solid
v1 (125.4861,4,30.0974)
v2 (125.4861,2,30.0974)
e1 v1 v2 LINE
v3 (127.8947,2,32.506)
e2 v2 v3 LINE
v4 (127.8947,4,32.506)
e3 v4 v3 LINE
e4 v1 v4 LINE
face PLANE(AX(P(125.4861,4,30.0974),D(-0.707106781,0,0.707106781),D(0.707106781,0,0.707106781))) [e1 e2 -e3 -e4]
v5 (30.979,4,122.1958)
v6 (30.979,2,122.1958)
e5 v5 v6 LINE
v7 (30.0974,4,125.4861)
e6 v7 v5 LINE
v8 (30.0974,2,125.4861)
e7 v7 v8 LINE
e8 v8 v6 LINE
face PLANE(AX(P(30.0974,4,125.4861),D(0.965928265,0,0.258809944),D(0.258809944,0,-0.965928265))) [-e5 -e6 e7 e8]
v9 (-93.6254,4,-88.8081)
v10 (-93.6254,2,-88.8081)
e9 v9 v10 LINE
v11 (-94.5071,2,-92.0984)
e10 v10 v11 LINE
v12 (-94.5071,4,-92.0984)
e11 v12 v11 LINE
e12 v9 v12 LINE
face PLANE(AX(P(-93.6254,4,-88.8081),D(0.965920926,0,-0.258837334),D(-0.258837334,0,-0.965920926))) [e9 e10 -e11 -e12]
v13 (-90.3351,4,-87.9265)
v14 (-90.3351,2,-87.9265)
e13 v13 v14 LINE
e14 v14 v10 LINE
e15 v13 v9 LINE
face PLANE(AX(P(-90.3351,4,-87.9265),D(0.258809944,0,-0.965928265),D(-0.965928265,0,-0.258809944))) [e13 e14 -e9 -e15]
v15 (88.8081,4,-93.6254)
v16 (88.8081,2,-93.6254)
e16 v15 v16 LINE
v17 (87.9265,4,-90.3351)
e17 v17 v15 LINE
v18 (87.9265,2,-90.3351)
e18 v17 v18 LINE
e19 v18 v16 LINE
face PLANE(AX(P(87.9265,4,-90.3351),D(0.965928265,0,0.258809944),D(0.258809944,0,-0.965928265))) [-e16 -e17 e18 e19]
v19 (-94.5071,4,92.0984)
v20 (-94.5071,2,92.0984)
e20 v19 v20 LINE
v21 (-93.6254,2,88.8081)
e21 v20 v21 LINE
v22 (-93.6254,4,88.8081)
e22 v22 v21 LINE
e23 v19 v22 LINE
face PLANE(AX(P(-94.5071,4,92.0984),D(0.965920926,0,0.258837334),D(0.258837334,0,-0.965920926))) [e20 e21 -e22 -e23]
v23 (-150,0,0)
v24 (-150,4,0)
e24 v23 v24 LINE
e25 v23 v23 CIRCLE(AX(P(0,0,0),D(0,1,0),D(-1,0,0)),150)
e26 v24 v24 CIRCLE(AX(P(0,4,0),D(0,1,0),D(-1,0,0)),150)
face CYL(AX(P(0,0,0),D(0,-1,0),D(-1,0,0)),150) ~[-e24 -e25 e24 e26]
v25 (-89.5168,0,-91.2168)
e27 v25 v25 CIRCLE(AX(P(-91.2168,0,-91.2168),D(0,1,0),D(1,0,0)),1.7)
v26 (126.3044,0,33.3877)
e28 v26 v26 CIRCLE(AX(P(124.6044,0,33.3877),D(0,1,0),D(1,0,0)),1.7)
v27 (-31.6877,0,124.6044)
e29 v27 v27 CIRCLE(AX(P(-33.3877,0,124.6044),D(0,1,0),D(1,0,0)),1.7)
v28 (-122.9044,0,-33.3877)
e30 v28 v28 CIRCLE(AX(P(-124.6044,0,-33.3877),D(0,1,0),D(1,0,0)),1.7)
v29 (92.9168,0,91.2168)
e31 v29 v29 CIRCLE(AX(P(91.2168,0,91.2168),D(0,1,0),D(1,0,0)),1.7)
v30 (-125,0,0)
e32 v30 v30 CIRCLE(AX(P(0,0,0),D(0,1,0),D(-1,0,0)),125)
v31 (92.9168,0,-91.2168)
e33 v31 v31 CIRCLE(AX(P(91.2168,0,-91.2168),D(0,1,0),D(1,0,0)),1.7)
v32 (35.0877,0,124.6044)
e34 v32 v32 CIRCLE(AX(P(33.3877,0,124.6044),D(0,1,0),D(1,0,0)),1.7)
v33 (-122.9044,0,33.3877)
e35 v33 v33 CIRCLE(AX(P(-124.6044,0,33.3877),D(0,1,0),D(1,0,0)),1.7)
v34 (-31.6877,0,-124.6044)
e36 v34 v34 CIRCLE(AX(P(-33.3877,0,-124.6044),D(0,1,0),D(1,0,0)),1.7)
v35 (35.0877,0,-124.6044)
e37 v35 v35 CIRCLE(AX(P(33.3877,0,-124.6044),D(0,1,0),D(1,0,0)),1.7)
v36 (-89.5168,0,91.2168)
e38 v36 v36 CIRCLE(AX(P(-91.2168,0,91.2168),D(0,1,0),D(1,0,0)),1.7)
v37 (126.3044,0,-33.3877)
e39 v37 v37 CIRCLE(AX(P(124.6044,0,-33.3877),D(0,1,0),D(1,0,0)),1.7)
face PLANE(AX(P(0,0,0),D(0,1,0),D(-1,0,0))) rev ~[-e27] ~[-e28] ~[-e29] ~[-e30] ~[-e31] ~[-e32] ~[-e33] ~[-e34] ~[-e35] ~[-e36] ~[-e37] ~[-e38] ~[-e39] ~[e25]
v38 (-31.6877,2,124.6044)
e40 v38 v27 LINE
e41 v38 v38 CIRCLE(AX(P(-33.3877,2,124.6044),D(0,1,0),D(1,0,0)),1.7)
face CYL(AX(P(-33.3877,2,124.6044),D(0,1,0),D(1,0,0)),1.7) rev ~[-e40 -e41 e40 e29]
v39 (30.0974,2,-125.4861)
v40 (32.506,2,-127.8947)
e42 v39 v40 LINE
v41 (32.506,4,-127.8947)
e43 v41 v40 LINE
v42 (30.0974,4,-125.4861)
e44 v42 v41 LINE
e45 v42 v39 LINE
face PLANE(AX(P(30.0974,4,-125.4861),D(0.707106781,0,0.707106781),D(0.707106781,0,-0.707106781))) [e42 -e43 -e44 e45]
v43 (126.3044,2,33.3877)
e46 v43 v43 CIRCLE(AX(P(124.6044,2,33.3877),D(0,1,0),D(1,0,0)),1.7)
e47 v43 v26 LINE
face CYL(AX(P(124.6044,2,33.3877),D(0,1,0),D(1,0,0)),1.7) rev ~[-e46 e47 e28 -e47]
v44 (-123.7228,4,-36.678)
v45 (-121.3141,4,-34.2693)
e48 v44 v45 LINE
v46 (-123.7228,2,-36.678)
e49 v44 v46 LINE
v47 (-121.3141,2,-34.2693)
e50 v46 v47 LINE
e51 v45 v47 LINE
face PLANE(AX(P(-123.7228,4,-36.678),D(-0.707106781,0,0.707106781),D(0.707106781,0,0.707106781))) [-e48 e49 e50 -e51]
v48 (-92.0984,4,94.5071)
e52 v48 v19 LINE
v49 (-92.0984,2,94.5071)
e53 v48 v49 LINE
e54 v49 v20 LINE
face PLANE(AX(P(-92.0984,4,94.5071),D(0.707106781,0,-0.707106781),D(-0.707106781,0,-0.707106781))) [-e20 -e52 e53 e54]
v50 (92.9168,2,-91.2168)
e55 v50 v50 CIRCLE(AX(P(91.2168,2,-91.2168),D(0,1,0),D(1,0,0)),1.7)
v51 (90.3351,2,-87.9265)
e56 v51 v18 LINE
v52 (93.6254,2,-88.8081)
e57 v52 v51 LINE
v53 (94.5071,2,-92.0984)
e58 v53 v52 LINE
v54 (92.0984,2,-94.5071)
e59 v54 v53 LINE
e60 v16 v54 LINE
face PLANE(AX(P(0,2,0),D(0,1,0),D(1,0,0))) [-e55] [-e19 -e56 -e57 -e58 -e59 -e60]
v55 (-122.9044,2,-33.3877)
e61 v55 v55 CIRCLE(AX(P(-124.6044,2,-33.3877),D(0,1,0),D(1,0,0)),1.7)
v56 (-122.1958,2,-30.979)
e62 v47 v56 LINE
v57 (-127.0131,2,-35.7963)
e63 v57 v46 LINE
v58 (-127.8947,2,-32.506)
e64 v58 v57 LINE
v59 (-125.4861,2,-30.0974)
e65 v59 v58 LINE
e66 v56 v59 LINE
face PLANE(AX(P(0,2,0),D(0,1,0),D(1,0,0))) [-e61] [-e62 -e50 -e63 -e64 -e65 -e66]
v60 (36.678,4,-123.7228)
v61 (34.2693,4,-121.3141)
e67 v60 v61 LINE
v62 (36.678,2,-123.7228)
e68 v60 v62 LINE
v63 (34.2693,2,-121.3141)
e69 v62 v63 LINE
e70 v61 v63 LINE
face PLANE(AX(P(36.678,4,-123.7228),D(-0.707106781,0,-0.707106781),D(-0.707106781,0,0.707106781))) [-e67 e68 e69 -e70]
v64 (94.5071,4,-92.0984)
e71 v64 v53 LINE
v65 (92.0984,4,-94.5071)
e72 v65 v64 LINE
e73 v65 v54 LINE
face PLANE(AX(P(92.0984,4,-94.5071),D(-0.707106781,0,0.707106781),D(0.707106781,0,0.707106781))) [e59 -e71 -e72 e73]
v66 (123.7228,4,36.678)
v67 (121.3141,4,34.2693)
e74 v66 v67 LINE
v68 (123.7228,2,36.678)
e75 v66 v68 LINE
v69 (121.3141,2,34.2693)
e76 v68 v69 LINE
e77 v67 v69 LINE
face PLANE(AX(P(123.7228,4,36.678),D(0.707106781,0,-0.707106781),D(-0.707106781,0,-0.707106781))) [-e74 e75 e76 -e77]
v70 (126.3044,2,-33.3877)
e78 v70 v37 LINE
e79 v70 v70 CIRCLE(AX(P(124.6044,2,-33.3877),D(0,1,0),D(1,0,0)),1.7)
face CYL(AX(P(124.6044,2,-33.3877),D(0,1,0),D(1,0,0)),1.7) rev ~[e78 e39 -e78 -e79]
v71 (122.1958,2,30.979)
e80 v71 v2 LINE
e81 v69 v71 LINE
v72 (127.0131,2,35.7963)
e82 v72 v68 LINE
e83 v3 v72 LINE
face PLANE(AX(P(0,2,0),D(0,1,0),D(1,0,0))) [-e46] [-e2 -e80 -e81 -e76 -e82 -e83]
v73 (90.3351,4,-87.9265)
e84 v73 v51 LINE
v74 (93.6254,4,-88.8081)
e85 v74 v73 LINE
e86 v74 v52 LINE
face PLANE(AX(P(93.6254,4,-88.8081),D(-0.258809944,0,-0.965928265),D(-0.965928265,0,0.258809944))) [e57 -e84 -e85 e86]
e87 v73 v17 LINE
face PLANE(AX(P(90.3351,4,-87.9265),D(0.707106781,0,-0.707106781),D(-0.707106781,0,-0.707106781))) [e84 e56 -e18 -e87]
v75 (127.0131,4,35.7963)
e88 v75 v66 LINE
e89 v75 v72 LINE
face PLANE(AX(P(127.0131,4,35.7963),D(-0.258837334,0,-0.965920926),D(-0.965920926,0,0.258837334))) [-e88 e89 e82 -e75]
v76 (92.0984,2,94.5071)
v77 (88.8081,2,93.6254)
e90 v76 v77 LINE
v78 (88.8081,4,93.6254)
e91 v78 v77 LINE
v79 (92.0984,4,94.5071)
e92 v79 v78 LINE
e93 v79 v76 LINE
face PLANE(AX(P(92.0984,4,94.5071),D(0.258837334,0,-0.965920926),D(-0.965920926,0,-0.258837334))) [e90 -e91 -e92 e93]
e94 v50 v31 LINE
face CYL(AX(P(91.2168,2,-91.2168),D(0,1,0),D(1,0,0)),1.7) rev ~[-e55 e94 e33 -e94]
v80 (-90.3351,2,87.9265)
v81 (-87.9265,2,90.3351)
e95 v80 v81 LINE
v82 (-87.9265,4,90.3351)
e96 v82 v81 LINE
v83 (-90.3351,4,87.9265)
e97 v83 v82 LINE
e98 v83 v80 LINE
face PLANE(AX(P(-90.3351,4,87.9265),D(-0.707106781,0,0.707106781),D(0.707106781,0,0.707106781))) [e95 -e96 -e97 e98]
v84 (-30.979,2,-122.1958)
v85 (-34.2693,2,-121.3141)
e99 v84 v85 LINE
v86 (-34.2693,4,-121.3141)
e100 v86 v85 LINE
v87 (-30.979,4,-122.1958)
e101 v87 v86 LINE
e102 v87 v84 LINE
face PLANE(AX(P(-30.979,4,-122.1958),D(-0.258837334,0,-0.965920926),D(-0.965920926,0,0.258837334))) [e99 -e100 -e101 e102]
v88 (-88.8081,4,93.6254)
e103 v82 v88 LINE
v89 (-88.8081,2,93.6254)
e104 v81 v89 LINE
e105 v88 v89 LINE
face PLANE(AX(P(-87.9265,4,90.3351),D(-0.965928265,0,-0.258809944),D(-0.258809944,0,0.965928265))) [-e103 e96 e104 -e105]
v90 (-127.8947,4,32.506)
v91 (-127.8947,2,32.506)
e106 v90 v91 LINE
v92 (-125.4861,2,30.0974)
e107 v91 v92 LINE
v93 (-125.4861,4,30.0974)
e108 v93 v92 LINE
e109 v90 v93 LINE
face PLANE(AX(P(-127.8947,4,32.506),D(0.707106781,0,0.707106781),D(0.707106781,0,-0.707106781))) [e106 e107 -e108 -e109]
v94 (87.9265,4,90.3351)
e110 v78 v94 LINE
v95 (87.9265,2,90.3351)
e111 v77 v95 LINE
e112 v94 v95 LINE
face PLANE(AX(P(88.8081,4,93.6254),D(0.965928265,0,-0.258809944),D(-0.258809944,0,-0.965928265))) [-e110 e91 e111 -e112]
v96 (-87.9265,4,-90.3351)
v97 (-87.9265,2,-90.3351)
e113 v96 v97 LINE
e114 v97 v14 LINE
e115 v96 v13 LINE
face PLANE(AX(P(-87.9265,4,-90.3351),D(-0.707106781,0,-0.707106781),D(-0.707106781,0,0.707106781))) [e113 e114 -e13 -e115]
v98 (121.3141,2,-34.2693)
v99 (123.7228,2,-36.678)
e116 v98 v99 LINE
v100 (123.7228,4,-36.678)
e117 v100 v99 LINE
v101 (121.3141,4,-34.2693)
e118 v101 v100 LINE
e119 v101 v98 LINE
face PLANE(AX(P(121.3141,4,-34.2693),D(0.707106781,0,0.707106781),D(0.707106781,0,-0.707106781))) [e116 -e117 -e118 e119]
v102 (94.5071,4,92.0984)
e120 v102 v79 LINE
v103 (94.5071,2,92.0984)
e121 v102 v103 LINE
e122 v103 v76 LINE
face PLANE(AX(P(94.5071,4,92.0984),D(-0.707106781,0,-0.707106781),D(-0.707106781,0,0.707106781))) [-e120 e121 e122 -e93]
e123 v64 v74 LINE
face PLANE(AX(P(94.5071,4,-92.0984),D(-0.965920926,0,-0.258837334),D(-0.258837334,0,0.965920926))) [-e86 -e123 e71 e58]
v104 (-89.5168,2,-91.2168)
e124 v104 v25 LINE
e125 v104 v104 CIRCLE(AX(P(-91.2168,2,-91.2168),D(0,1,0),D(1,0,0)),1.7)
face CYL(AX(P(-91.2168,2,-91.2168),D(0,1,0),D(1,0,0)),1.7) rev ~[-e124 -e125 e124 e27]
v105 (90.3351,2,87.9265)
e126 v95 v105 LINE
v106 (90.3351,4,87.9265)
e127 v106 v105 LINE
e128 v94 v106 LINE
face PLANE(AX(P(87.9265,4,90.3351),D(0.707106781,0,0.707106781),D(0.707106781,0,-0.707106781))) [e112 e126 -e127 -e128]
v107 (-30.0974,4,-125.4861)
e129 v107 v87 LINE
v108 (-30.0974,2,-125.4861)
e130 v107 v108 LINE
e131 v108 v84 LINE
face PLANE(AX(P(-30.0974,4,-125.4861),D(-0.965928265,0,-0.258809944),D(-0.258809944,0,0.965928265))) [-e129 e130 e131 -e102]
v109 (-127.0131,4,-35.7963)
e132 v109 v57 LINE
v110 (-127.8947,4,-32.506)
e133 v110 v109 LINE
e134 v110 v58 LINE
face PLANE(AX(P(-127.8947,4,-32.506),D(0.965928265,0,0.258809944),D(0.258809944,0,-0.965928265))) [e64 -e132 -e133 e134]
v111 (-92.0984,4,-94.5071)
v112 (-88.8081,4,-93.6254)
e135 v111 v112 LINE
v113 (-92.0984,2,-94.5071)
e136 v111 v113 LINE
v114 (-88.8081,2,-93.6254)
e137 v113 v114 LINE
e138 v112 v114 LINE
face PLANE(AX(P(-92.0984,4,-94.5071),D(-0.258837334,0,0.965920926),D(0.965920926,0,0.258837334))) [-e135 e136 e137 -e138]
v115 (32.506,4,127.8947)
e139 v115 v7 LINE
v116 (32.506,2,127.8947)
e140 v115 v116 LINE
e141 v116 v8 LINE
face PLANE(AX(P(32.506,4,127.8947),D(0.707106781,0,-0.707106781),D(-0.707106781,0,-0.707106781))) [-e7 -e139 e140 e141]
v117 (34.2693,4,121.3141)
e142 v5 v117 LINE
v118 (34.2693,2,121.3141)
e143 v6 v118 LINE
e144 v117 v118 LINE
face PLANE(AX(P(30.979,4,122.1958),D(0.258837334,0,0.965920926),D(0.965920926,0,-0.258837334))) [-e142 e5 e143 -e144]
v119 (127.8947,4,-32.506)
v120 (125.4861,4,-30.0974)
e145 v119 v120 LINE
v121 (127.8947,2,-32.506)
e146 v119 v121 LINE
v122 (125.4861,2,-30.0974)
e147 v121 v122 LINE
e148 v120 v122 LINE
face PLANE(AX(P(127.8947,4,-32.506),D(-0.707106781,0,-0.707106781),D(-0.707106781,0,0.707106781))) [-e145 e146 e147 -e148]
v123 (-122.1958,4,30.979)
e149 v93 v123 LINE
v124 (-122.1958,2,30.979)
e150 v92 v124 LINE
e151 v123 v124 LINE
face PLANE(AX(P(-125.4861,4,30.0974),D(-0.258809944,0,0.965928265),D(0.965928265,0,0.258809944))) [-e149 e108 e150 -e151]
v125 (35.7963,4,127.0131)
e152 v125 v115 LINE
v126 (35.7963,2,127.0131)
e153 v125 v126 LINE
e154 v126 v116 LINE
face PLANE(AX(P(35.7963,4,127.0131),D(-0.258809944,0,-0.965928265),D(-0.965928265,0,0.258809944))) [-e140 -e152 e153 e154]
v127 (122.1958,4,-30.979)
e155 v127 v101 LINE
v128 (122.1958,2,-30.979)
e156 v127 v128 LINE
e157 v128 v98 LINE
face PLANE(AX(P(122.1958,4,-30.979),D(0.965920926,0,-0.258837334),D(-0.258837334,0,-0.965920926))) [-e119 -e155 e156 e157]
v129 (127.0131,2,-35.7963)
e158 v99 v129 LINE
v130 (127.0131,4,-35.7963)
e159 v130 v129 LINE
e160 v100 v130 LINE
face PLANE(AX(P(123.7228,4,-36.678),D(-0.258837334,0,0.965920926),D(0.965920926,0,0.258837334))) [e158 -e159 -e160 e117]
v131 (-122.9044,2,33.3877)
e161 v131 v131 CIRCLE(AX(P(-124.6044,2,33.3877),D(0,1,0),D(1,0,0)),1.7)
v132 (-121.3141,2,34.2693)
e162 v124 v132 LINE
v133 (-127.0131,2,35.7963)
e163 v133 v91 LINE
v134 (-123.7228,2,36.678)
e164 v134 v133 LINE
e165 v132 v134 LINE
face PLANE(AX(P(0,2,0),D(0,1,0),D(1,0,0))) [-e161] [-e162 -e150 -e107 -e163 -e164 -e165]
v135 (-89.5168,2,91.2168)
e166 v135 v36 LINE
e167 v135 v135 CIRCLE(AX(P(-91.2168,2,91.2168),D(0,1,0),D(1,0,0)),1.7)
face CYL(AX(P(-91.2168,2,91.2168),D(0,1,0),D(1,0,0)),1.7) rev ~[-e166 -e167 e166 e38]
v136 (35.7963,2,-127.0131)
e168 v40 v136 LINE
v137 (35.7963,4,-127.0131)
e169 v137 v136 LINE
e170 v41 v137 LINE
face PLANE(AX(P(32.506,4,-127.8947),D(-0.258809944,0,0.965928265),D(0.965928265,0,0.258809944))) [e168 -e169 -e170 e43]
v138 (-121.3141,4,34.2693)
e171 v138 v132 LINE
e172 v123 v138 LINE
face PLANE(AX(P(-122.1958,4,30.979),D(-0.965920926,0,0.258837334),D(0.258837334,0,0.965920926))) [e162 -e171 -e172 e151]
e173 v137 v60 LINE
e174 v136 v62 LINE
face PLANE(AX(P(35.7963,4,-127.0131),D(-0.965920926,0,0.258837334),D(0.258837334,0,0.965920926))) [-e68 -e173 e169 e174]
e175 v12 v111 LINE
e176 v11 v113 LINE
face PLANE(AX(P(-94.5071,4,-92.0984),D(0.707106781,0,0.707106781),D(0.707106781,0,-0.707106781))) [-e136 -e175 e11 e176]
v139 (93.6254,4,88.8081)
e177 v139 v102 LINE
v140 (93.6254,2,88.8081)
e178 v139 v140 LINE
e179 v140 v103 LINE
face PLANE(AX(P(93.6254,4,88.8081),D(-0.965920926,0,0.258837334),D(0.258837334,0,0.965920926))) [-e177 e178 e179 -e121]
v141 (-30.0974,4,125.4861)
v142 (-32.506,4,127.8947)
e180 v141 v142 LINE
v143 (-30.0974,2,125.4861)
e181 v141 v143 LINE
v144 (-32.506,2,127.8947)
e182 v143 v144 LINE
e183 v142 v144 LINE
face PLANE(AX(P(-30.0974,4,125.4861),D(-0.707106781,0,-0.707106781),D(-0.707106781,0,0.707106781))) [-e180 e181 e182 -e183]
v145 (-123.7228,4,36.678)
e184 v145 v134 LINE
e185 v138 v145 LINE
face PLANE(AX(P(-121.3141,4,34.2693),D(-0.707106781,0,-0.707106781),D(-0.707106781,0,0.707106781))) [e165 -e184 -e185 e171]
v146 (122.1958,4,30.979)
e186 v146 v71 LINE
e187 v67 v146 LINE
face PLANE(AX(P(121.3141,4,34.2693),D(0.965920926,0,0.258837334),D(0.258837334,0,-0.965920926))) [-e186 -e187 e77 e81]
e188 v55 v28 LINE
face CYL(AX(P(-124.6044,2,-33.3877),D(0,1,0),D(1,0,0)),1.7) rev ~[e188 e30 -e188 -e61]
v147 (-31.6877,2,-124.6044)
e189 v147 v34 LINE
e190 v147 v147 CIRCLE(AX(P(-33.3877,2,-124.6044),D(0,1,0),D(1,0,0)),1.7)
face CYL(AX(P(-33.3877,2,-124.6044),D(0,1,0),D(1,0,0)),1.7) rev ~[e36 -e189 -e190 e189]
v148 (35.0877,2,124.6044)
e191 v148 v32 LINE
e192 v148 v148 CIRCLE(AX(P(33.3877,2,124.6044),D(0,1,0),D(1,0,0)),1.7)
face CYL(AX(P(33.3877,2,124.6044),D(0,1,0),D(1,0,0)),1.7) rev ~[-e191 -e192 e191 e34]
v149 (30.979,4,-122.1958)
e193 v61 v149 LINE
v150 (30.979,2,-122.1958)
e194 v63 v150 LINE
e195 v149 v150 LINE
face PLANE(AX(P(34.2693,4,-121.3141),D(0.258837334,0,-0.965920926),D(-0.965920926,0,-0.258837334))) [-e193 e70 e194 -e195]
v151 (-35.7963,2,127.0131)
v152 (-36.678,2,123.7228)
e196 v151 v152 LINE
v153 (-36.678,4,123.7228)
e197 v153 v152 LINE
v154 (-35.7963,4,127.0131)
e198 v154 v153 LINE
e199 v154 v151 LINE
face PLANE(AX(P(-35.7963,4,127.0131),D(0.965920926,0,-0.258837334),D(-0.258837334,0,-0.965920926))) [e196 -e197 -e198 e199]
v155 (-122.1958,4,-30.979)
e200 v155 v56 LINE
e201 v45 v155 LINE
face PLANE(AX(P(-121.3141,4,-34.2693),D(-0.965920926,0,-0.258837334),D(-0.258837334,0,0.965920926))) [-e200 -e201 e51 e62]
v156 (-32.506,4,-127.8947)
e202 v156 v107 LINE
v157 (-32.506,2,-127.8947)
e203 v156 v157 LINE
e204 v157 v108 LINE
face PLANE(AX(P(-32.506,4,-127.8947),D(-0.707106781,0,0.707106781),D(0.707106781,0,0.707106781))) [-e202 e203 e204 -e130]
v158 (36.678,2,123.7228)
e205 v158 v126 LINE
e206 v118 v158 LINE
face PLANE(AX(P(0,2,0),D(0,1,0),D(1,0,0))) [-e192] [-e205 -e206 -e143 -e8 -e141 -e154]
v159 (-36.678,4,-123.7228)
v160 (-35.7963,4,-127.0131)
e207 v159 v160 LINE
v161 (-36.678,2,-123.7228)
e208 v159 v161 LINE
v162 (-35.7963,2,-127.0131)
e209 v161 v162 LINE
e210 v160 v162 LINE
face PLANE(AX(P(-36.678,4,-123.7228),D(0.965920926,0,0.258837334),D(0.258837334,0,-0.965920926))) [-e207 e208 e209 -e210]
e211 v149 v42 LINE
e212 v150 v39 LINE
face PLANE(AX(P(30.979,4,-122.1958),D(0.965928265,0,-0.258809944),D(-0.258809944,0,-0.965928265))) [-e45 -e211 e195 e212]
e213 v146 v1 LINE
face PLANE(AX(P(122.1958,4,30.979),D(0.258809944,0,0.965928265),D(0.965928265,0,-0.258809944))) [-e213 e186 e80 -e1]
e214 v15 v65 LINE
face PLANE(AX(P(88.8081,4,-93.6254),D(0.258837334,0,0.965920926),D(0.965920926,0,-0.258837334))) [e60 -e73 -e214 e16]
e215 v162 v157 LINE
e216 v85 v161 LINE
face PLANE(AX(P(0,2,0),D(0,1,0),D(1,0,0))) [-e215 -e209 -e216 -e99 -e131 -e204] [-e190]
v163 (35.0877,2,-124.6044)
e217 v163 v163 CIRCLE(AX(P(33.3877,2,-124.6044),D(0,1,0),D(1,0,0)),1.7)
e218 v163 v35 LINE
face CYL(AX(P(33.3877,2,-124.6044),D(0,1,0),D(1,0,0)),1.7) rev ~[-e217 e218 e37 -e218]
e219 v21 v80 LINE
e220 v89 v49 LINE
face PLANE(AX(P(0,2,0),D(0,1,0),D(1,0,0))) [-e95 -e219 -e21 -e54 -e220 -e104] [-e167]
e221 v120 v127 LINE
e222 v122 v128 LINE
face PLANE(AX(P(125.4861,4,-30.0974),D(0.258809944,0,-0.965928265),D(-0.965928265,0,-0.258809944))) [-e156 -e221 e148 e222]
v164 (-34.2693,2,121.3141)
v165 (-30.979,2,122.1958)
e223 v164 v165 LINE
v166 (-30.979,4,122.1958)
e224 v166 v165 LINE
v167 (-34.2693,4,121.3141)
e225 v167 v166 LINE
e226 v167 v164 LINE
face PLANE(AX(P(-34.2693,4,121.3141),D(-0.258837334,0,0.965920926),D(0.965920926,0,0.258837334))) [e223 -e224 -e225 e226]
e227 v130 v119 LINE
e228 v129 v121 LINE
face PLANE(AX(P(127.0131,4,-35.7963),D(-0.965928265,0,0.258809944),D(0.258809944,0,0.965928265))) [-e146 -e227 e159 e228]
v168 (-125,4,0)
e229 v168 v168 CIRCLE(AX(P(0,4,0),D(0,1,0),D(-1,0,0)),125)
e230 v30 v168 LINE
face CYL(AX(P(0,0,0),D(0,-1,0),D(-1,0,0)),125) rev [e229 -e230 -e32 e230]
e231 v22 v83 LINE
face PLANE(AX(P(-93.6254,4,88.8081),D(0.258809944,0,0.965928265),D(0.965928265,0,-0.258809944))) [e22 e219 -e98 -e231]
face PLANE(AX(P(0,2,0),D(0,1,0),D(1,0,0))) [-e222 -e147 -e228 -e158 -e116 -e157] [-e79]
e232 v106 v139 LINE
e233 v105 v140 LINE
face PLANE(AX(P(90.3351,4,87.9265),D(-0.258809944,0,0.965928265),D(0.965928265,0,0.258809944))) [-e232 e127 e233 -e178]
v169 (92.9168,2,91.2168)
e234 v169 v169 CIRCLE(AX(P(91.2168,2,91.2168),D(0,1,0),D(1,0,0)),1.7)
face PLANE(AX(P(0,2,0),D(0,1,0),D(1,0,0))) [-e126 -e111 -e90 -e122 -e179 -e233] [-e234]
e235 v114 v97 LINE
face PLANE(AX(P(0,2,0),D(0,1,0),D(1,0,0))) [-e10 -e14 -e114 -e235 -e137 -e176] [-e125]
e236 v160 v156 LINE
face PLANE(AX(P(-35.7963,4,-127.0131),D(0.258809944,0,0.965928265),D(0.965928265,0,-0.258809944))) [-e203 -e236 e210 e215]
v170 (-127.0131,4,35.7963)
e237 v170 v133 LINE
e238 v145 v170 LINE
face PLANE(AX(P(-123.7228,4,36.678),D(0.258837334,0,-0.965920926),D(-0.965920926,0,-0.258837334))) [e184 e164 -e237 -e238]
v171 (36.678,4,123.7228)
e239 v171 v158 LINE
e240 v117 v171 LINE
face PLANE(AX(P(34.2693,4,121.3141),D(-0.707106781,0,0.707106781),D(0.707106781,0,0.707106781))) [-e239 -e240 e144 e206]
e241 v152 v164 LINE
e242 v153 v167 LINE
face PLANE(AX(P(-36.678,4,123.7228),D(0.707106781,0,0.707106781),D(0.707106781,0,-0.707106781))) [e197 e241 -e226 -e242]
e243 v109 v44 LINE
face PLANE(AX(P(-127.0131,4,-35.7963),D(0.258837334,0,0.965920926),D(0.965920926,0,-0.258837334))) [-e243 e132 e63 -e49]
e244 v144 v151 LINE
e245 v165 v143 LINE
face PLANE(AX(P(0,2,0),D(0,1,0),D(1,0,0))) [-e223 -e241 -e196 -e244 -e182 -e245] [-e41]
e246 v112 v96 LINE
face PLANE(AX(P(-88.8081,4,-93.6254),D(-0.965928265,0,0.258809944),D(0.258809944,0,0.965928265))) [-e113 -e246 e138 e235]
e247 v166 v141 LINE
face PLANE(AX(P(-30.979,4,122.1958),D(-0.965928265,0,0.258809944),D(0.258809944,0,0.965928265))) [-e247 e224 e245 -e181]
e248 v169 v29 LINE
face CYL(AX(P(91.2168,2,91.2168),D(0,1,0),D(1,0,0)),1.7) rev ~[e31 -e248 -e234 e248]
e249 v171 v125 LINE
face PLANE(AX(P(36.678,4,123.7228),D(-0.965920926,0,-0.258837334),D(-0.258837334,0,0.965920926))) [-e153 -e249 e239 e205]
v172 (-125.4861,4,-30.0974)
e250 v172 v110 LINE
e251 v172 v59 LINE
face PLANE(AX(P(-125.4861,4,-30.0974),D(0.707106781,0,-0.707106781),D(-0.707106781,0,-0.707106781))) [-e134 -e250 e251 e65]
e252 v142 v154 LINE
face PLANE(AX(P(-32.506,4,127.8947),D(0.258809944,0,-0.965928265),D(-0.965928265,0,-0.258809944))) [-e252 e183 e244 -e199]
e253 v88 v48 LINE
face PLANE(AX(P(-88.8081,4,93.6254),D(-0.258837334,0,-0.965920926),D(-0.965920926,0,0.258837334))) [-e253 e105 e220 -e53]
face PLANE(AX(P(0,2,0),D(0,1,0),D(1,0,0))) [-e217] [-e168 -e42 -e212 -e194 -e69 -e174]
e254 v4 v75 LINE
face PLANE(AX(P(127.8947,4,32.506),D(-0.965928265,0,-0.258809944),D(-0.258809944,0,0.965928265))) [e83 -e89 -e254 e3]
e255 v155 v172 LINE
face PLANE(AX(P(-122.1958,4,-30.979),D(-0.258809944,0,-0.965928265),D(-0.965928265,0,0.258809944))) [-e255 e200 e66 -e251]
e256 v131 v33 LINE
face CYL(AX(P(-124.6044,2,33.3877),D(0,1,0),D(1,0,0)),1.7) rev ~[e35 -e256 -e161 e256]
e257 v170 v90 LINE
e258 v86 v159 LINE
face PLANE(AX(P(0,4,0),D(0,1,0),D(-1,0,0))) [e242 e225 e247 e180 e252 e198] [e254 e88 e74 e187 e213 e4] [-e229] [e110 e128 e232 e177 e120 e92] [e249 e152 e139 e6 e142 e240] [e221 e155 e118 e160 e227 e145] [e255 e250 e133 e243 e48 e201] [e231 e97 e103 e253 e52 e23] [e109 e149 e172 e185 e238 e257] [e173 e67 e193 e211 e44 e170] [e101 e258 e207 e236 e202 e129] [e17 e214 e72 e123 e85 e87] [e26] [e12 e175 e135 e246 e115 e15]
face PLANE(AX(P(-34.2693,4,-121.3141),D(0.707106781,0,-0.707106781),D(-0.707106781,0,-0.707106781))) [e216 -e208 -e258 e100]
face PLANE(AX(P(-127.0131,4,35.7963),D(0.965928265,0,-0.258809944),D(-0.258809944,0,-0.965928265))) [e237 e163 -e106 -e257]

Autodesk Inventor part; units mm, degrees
ref_plane "YZ Plane" through (0, 0, 0) normal (1, 0, 0) x (0, 1, 0)
ref_plane "XZ Plane" through (0, 0, 0) normal (0, 1, 0) x (-1, 0, 0)
ref_plane "XY Plane" through (0, 0, 0) normal (0, 0, 1) x (1, 0, 0)
sketch "Sketch1" plane through (0, 0, 0) normal (0, 1, 0) x (-1, 0, 0)
  circle A0 centre (0, 0) radius 150
  circle A1 centre (0, 0) radius 125
  dimension "d0" = 300
  dimension "d1" = 250
extrude "Extrusion1" add sketch "Sketch1" along normal blind 4
sketch "Sketch2" plane through (0, 4, 0) normal (0, 1, 0) x (1, 0, 0)
  line L0 (0, 0) -> (124.6044, 33.3877) construction
  line L1 (125.4861, 30.0974) -> (122.1958, 30.979)
  line L2 (122.1958, 30.979) -> (121.3141, 34.2693)
  line L3 (121.3141, 34.2693) -> (123.7228, 36.678)
  line L4 (123.7228, 36.678) -> (127.0131, 35.7963)
  line L5 (127.0131, 35.7963) -> (127.8947, 32.506)
  line L6 (127.8947, 32.506) -> (125.4861, 30.0974)
  line L7 (0, 0) -> (150, 0) construction
  circle A0 centre (0, 0) radius 150 projected
  line L8 (87.9265, 90.3351) -> (88.8081, 93.6254)
  line L9 (90.3351, 87.9265) -> (87.9265, 90.3351)
  line L10 (93.6254, 88.8081) -> (90.3351, 87.9265)
  line L11 (94.5071, 92.0984) -> (93.6254, 88.8081)
  line L12 (92.0984, 94.5071) -> (94.5071, 92.0984)
  line L13 (88.8081, 93.6254) -> (92.0984, 94.5071)
  line L14 (30.979, 122.1958) -> (30.0974, 125.4861)
  line L15 (34.2693, 121.3141) -> (30.979, 122.1958)
  line L16 (36.678, 123.7228) -> (34.2693, 121.3141)
  line L17 (35.7963, 127.0131) -> (36.678, 123.7228)
  line L18 (32.506, 127.8947) -> (35.7963, 127.0131)
  line L19 (30.0974, 125.4861) -> (32.506, 127.8947)
  line L20 (-34.2693, 121.3141) -> (-36.678, 123.7228)
  line L21 (-30.979, 122.1958) -> (-34.2693, 121.3141)
  line L22 (-30.0974, 125.4861) -> (-30.979, 122.1958)
  line L23 (-32.506, 127.8947) -> (-30.0974, 125.4861)
  line L24 (-35.7963, 127.0131) -> (-32.506, 127.8947)
  line L25 (-36.678, 123.7228) -> (-35.7963, 127.0131)
  line L26 (-90.3351, 87.9265) -> (-93.6254, 88.8081)
  line L27 (-87.9265, 90.3351) -> (-90.3351, 87.9265)
  line L28 (-88.8081, 93.6254) -> (-87.9265, 90.3351)
  line L29 (-92.0984, 94.5071) -> (-88.8081, 93.6254)
  line L30 (-94.5071, 92.0984) -> (-92.0984, 94.5071)
  line L31 (-93.6254, 88.8081) -> (-94.5071, 92.0984)
  line L32 (-122.1958, 30.979) -> (-125.4861, 30.0974)
  line L33 (-121.3141, 34.2693) -> (-122.1958, 30.979)
  line L34 (-123.7228, 36.678) -> (-121.3141, 34.2693)
  line L35 (-127.0131, 35.7963) -> (-123.7228, 36.678)
  line L36 (-127.8947, 32.506) -> (-127.0131, 35.7963)
  line L37 (-125.4861, 30.0974) -> (-127.8947, 32.506)
  line L38 (-121.3141, -34.2693) -> (-123.7228, -36.678)
  line L39 (-122.1958, -30.979) -> (-121.3141, -34.2693)
  line L40 (-125.4861, -30.0974) -> (-122.1958, -30.979)
  line L41 (-127.8947, -32.506) -> (-125.4861, -30.0974)
  line L42 (-127.0131, -35.7963) -> (-127.8947, -32.506)
  line L43 (-123.7228, -36.678) -> (-127.0131, -35.7963)
  line L44 (-87.9265, -90.3351) -> (-88.8081, -93.6254)
  line L45 (-90.3351, -87.9265) -> (-87.9265, -90.3351)
  line L46 (-93.6254, -88.8081) -> (-90.3351, -87.9265)
  line L47 (-94.5071, -92.0984) -> (-93.6254, -88.8081)
  line L48 (-92.0984, -94.5071) -> (-94.5071, -92.0984)
  line L49 (-88.8081, -93.6254) -> (-92.0984, -94.5071)
  line L50 (-30.979, -122.1958) -> (-30.0974, -125.4861)
  line L51 (-34.2693, -121.3141) -> (-30.979, -122.1958)
  line L52 (-36.678, -123.7228) -> (-34.2693, -121.3141)
  line L53 (-35.7963, -127.0131) -> (-36.678, -123.7228)
  line L54 (-32.506, -127.8947) -> (-35.7963, -127.0131)
  line L55 (-30.0974, -125.4861) -> (-32.506, -127.8947)
  line L56 (34.2693, -121.3141) -> (36.678, -123.7228)
  line L57 (30.979, -122.1958) -> (34.2693, -121.3141)
  line L58 (30.0974, -125.4861) -> (30.979, -122.1958)
  line L59 (32.506, -127.8947) -> (30.0974, -125.4861)
  line L60 (35.7963, -127.0131) -> (32.506, -127.8947)
  line L61 (36.678, -123.7228) -> (35.7963, -127.0131)
  line L62 (90.3351, -87.9265) -> (93.6254, -88.8081)
  line L63 (87.9265, -90.3351) -> (90.3351, -87.9265)
  line L64 (88.8081, -93.6254) -> (87.9265, -90.3351)
  line L65 (92.0984, -94.5071) -> (88.8081, -93.6254)
  line L66 (94.5071, -92.0984) -> (92.0984, -94.5071)
  line L67 (93.6254, -88.8081) -> (94.5071, -92.0984)
  line L68 (122.1958, -30.979) -> (125.4861, -30.0974)
  line L69 (121.3141, -34.2693) -> (122.1958, -30.979)
  line L70 (123.7228, -36.678) -> (121.3141, -34.2693)
  line L71 (127.0131, -35.7963) -> (123.7228, -36.678)
  line L72 (127.8947, -32.506) -> (127.0131, -35.7963)
  line L73 (125.4861, -30.0974) -> (127.8947, -32.506)
  dimension "d4" = 5.9
  dimension "d5" = 15
  dimension "d6" = 129
  dimension "d9" = 360
extrude "Extrusion2" cut sketch "Sketch2" against normal blind 2 contours L1 L2 L3 L4 L5 L6 | L8 L13 L12 L11 L10 L9 | L14 L19 L18 L17 L16 L15 | L20 L25 L24 L23 L22 L21 | L26 L31 L30 L29 L28 L27 | L32 L37 L36 L35 L34 L33 | L38 L43 L42 L41 L40 L39 | L44 L49 L48 L47 L46 L45 | L50 L55 L54 L53 L52 L51 | L56 L61 L60 L59 L58 L57 | L62 L67 L66 L65 L64 L63 | L68 L73 L72 L71 L70 L69
sketch "Sketch3" plane through (0, 2, 0) normal (0, 1, 0) x (1, 0, 0)
  line L0 (121.3141, 34.2693) -> (123.7228, 36.678) projected
  line L1 (125.4861, 30.0974) -> (122.1958, 30.979) projected
  line L2 (123.7228, 36.678) -> (125.4861, 30.0974) construction
  circle A0 centre (124.6044, 33.3877) radius 1.7
  circle A1 centre (91.2168, 91.2168) radius 1.7
  circle A2 centre (33.3877, 124.6044) radius 1.7
  circle A3 centre (-33.3877, 124.6044) radius 1.7
  circle A4 centre (-91.2168, 91.2168) radius 1.7
  circle A5 centre (-124.6044, 33.3877) radius 1.7
  circle A6 centre (-124.6044, -33.3877) radius 1.7
  circle A7 centre (-91.2168, -91.2168) radius 1.7
  circle A8 centre (-33.3877, -124.6044) radius 1.7
  circle A9 centre (33.3877, -124.6044) radius 1.7
  circle A10 centre (91.2168, -91.2168) radius 1.7
  circle A11 centre (124.6044, -33.3877) radius 1.7
  point P0 (0, 0)
  dimension "d13" = 3.4
  dimension "d16" = 360
extrude "Extrusion3" cut sketch "Sketch3" against normal through all
properties part number "ArmLoopInnerRing"
